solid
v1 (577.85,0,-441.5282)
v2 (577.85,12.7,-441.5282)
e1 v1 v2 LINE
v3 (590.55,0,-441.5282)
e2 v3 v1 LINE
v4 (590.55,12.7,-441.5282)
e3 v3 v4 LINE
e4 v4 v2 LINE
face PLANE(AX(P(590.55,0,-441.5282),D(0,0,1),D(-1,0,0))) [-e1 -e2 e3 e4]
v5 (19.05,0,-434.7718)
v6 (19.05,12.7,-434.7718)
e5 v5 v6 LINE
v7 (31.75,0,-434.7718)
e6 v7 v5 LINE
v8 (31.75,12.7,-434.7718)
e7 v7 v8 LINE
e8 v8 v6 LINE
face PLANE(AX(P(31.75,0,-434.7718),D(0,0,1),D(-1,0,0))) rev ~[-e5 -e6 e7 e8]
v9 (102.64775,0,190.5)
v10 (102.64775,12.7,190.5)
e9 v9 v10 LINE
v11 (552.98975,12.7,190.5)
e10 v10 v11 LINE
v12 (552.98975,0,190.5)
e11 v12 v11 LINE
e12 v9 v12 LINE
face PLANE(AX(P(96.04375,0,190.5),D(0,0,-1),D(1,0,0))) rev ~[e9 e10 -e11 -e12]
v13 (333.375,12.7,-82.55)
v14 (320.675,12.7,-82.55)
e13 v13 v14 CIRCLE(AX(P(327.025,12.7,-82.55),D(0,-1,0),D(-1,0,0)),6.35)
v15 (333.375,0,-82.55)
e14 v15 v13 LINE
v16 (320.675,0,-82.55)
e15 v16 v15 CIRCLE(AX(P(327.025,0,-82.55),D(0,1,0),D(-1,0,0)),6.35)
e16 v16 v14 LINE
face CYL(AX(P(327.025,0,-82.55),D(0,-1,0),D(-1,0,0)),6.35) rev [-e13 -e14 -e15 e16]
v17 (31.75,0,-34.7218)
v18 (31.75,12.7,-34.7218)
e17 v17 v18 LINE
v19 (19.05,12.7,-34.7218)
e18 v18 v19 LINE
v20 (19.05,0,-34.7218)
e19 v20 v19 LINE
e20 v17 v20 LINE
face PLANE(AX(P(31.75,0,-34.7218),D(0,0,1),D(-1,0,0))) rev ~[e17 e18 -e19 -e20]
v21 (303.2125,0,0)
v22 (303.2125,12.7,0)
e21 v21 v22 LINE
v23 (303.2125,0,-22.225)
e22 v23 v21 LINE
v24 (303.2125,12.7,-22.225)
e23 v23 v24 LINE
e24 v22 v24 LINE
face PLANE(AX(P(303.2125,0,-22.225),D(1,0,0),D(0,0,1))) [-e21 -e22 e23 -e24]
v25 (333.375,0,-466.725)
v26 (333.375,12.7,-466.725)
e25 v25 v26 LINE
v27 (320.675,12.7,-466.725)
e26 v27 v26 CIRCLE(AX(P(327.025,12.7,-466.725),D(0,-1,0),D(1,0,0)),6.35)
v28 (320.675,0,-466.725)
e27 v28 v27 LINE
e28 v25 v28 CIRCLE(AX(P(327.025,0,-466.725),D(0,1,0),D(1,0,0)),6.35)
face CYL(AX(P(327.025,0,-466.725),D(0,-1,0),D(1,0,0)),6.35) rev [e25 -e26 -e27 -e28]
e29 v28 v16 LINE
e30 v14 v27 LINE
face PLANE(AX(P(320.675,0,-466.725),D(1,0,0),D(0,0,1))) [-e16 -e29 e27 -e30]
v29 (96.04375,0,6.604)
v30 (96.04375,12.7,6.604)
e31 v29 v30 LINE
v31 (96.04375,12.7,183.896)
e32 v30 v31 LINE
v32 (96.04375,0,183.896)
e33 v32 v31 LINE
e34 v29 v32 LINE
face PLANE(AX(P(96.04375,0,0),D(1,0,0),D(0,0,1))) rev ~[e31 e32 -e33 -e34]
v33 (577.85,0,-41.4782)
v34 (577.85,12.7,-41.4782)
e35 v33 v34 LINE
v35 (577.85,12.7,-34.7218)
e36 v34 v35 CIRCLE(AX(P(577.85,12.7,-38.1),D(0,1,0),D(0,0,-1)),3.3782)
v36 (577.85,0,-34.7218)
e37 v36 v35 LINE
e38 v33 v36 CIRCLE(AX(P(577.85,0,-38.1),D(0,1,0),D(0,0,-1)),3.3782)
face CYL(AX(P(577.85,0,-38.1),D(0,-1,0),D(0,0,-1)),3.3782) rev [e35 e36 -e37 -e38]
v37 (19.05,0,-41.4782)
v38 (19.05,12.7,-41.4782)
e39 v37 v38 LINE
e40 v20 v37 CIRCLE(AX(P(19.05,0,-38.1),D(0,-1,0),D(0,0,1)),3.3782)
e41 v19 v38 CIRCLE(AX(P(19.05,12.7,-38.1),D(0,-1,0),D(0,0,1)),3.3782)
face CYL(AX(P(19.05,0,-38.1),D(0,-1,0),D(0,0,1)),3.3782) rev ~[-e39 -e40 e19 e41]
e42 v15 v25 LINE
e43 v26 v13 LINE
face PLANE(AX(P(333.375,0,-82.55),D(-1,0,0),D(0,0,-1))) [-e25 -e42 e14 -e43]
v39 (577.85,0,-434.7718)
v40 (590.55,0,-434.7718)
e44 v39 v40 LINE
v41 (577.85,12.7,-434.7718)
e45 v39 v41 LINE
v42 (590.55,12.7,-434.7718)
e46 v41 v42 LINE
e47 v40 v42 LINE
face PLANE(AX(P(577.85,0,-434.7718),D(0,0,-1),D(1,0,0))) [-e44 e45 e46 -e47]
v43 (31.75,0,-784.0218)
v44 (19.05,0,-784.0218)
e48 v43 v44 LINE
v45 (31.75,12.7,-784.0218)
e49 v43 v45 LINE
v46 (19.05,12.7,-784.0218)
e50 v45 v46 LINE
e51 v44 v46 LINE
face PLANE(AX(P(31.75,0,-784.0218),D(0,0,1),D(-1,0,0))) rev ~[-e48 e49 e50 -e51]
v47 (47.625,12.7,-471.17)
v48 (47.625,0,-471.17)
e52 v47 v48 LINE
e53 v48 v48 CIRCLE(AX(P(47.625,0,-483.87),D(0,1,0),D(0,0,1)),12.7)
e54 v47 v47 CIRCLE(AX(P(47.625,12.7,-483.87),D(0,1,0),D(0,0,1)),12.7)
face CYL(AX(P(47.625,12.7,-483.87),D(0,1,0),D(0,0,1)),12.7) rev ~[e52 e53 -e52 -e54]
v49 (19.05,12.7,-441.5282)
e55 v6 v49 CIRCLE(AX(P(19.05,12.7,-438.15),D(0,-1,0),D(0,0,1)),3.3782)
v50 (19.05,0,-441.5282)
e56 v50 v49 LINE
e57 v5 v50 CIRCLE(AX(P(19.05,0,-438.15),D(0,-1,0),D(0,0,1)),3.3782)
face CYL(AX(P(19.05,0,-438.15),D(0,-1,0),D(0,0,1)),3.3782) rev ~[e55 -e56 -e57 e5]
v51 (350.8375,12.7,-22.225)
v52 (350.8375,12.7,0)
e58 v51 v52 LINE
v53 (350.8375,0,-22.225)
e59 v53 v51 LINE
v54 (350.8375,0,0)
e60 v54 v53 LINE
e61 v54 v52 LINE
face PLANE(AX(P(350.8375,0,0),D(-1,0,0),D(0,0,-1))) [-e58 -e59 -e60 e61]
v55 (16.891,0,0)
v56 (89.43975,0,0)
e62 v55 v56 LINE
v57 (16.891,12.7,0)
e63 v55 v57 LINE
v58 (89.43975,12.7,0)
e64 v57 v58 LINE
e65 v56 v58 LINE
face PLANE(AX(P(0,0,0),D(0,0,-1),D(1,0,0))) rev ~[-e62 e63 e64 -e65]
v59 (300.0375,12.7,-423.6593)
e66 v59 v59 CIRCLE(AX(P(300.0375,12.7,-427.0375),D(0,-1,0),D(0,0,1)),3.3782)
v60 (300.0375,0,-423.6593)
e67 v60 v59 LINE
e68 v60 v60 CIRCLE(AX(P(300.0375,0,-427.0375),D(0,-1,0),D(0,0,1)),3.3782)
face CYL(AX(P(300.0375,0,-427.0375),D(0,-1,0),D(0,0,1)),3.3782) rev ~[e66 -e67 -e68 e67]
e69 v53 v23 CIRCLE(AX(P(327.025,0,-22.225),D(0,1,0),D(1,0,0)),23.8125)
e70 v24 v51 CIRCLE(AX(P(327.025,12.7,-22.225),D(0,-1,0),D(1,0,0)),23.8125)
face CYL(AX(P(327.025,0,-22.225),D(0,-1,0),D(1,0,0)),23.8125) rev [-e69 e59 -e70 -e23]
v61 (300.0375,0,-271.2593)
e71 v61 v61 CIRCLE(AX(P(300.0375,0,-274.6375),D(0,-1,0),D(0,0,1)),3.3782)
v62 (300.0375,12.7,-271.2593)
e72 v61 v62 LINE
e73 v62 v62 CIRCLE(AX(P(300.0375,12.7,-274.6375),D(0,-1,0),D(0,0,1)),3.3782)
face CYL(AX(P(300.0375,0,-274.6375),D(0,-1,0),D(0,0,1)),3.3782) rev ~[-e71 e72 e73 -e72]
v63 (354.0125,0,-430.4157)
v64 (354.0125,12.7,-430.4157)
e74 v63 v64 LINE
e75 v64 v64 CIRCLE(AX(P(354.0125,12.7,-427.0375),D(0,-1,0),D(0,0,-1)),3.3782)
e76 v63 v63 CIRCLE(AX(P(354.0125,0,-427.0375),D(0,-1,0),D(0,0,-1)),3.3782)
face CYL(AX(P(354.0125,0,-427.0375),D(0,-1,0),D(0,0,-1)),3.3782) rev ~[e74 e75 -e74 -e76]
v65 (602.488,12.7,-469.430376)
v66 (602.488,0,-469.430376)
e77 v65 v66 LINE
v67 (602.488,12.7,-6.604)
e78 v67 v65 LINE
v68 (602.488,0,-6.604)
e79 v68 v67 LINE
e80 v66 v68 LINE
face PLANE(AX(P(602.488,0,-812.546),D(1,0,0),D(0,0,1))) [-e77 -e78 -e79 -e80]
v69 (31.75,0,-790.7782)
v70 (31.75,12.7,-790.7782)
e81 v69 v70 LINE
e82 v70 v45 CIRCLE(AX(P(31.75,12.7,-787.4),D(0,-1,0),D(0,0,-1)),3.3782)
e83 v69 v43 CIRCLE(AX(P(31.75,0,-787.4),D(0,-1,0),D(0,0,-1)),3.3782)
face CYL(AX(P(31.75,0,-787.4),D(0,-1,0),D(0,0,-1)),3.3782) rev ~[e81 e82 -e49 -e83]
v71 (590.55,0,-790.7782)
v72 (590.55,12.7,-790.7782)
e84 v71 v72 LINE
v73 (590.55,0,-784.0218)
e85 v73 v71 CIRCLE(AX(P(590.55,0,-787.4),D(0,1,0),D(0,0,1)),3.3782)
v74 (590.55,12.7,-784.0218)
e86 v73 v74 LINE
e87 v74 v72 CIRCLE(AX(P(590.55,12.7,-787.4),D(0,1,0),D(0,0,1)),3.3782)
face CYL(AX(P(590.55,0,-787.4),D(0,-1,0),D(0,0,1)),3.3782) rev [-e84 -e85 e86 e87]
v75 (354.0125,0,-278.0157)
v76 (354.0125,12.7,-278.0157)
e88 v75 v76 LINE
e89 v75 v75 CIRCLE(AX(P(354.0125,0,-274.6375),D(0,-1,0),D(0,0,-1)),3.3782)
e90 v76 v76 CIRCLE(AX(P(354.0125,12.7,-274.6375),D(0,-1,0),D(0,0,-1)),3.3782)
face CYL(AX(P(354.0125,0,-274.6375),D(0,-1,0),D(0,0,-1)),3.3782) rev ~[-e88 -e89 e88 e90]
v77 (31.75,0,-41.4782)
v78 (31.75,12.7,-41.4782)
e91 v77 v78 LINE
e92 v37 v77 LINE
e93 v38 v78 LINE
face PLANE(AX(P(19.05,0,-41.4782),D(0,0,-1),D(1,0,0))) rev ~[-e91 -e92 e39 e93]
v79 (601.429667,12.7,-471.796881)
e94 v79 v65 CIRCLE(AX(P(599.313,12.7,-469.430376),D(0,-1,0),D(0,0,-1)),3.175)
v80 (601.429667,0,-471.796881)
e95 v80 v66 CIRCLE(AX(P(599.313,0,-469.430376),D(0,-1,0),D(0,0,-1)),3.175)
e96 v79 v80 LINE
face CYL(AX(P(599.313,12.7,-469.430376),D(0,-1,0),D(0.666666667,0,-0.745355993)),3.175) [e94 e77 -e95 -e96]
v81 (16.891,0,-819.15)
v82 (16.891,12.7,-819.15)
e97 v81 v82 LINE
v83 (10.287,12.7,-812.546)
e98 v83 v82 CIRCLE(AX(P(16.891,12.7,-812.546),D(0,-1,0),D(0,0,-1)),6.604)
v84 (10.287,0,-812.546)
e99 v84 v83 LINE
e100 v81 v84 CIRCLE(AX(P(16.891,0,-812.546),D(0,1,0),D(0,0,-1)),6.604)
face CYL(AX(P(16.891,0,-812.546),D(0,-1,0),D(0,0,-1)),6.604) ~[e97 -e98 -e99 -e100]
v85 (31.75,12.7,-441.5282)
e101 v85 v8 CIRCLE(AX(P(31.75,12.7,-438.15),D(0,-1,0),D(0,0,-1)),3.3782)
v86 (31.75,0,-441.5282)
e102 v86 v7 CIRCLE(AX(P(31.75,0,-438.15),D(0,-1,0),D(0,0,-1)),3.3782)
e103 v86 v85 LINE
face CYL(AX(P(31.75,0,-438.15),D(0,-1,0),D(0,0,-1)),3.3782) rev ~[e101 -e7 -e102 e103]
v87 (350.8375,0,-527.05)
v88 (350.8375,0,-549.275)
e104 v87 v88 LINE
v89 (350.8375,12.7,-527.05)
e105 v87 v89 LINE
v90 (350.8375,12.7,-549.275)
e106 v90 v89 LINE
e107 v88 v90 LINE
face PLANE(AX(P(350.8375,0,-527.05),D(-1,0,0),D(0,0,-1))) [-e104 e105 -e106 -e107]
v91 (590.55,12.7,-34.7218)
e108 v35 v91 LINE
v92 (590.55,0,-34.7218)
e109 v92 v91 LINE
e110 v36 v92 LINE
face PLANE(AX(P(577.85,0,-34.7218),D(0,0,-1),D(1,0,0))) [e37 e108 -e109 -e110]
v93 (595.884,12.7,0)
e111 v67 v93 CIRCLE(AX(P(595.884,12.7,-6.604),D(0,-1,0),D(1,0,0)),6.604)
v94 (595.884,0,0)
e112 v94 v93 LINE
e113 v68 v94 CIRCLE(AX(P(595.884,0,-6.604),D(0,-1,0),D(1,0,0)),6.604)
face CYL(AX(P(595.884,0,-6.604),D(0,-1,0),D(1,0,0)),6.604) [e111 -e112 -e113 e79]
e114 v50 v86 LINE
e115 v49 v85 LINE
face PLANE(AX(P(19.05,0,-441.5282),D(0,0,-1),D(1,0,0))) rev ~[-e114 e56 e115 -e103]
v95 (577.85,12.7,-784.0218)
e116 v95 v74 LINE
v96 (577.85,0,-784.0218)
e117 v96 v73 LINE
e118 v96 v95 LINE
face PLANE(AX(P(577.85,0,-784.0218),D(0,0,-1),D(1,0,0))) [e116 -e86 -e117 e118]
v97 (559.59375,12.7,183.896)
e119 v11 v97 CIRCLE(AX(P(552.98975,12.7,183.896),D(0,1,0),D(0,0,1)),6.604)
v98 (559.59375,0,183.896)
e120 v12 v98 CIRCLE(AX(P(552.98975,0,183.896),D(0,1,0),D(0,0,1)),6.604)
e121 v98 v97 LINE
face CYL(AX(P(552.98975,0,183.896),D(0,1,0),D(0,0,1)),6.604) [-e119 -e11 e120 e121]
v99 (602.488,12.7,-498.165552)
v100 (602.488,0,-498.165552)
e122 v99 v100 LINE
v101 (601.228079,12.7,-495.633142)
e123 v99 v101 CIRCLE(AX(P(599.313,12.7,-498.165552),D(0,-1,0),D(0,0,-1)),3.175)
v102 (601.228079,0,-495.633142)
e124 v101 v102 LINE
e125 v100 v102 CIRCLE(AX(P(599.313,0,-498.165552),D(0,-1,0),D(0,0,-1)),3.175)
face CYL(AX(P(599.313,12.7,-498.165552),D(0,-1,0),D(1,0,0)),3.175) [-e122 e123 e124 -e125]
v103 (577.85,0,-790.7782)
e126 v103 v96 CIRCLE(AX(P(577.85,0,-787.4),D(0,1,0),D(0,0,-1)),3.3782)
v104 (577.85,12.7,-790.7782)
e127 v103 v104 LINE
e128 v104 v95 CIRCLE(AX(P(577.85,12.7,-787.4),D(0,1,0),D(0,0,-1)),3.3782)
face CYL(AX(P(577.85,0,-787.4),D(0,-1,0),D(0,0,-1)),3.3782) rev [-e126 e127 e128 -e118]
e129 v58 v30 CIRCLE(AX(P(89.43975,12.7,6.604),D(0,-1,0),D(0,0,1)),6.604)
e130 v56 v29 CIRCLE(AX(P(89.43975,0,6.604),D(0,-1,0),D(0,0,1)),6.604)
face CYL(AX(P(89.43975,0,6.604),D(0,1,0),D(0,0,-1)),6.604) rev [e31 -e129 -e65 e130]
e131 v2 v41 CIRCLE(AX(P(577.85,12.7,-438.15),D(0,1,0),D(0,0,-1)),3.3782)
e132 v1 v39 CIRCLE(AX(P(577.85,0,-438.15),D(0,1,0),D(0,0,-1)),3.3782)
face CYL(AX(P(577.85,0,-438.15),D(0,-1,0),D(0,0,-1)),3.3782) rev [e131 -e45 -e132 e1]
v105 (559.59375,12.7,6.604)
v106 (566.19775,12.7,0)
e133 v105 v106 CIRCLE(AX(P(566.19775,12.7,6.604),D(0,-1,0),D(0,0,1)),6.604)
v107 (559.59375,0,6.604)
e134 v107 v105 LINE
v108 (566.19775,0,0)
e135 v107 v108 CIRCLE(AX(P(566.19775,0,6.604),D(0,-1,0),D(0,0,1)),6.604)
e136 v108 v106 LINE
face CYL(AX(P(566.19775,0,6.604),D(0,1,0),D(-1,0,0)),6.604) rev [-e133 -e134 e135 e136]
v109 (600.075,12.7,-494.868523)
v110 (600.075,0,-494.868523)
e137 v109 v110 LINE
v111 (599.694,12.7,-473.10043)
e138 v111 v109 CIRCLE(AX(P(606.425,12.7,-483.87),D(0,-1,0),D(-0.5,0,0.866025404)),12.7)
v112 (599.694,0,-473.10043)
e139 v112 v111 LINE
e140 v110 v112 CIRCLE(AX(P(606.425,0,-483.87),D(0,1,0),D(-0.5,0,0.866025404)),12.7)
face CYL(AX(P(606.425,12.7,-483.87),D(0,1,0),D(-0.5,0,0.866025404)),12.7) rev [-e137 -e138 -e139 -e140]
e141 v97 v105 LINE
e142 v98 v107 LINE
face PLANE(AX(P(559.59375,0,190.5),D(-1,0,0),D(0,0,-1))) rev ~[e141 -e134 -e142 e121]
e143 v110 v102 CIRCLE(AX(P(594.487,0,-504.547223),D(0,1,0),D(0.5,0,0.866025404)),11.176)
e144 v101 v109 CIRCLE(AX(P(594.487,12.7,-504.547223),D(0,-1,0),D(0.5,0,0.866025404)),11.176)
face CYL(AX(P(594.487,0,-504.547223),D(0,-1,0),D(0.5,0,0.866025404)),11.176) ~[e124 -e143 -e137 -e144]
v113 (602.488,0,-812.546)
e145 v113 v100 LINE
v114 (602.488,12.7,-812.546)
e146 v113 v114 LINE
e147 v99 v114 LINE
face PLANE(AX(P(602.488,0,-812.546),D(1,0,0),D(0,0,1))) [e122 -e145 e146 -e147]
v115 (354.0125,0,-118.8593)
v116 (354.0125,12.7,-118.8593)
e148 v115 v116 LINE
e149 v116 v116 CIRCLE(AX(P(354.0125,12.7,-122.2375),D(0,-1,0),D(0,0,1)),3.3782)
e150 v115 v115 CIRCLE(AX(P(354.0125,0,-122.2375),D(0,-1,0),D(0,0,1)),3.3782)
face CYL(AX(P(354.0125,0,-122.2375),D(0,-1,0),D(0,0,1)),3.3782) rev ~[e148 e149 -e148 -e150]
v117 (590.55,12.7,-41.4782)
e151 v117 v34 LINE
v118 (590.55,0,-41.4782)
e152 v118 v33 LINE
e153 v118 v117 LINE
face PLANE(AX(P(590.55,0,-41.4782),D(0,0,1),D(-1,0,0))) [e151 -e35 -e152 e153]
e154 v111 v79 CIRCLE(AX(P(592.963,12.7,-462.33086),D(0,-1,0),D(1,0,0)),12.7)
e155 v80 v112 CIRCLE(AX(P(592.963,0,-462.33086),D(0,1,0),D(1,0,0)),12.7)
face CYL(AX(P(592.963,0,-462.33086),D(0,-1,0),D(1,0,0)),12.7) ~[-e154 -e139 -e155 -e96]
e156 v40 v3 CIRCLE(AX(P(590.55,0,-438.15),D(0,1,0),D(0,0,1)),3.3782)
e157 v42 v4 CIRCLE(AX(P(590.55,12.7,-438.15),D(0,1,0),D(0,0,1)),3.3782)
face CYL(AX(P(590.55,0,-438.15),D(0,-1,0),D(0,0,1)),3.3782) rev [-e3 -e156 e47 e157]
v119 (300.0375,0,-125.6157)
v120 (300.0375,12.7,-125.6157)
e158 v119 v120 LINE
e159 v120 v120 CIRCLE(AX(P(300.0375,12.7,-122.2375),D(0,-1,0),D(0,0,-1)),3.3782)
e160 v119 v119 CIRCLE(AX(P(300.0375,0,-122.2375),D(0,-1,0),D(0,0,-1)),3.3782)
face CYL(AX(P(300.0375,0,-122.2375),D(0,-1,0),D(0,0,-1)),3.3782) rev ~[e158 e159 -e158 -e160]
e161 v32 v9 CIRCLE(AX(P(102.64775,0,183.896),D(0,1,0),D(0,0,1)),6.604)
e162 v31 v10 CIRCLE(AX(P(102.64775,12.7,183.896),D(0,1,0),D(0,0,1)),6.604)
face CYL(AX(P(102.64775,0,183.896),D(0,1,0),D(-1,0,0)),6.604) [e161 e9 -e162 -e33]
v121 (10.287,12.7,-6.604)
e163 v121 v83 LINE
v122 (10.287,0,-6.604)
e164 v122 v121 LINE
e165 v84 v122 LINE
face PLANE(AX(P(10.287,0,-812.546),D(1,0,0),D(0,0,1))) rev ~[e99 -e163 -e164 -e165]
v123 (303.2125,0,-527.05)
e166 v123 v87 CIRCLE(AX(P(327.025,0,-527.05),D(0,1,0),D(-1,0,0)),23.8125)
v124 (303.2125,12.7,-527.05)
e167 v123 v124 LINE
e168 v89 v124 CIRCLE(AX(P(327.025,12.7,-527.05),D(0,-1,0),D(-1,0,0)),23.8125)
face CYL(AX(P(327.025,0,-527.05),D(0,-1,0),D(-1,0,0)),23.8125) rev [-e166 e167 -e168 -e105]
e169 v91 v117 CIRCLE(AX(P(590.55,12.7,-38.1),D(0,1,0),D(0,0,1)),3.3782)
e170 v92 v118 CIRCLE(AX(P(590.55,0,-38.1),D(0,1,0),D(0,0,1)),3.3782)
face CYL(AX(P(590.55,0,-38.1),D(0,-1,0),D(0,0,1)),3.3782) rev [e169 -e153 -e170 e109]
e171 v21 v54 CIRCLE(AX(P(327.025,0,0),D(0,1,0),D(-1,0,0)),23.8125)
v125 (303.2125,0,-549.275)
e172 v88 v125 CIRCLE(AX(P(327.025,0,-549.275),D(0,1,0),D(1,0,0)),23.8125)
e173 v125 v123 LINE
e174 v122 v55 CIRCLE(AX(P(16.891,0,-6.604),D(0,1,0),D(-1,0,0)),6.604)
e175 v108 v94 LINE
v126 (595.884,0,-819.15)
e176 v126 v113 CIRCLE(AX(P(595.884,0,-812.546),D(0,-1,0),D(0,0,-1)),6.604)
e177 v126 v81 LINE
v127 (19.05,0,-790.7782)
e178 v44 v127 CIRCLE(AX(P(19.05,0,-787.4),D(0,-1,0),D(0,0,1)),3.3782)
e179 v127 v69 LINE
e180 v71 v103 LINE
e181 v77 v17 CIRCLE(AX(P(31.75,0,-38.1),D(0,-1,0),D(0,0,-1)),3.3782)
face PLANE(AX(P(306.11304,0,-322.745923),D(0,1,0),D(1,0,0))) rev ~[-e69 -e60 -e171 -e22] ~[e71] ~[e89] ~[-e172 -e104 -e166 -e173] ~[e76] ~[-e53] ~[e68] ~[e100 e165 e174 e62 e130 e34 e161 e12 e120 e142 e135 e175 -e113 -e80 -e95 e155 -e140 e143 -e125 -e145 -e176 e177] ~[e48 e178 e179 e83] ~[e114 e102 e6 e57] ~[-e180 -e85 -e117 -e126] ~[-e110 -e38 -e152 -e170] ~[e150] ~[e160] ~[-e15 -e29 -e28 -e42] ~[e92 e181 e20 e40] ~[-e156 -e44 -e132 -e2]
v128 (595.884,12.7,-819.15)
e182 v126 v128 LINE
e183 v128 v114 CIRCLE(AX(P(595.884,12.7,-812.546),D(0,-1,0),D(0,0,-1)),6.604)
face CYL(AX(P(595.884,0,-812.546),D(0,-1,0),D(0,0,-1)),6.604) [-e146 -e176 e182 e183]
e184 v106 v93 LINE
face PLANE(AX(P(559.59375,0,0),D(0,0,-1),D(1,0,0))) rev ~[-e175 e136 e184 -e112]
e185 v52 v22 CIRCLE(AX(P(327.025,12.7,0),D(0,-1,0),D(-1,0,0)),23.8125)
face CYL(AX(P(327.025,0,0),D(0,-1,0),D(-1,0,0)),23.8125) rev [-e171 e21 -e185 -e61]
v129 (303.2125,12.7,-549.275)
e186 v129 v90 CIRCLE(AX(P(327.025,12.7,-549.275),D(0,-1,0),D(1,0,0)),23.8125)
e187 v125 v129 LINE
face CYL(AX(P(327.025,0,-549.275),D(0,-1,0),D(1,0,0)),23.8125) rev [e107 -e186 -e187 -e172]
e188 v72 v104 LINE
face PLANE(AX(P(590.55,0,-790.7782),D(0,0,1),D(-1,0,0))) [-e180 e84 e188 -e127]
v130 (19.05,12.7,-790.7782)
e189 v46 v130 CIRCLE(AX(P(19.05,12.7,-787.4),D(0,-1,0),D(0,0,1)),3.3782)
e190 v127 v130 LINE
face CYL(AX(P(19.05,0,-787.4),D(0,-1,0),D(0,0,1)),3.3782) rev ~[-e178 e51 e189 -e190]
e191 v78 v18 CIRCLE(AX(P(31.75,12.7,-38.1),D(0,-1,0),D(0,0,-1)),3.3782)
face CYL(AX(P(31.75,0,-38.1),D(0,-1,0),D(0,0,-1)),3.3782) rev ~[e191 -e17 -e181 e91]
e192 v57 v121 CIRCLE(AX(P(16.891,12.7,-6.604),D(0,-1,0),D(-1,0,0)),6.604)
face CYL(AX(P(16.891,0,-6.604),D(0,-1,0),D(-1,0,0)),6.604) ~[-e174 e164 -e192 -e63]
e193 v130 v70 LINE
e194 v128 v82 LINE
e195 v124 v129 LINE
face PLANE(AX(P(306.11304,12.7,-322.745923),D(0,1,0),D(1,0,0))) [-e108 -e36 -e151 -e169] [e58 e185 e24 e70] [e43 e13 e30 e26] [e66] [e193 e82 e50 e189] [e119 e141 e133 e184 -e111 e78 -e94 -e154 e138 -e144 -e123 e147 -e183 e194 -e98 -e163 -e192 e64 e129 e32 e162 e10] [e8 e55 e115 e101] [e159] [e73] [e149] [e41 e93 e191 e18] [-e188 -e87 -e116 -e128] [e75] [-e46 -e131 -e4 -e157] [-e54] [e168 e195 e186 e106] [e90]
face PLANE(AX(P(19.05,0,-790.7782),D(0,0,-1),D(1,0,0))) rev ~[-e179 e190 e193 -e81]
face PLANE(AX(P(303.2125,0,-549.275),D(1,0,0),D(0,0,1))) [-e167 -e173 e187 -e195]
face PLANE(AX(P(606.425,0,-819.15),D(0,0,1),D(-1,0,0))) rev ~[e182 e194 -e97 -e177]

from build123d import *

# Parameters (mm, degrees)
BOSS_EXTRUDE1_DEPTH = 12.7
FILLET1_R           = 6.604
FILLET2_R           = 6.604
SKETCH2_R           = 12.7
CUT_EXTRUDE1_DEPTH  = 1020.273904858
CUT_EXTRUDE3_DEPTH  = 1020.273904858
CUT_EXTRUDE4_DEPTH  = 1020.273904858
SKETCH6_R           = 3.3782
CUT_EXTRUDE5_DEPTH  = 1020.273904858
CUT_EXTRUDE6_DEPTH  = 1020.273904858
CUT_EXTRUDE7_DEPTH  = 1019.820731075
FILLET3_R           = 3.175


with BuildPart() as part:
    # Sketch1 → Boss-Extrude1 (new body)
    with BuildSketch(Plane(origin=(0, 0, 0), x_dir=(1, 0, 0), z_dir=(0, 1, 0))):
        Polygon((0, 0), (96.04375, 0), (96.04375, -190.5), (559.59375, -190.5), (559.59375, 0), (606.425, 0), (606.425, 819.15), (0, 819.15), align=None)
        with BuildLine():
            Line((19.05, 41.4782), (31.75, 41.4782))
            ThreePointArc((31.75, 41.4782), (35.1282, 38.1), (31.75, 34.7218))
            Line((31.75, 34.7218), (19.05, 34.7218))
            ThreePointArc((19.05, 34.7218), (15.6718, 38.1), (19.05, 41.4782))
        make_face(mode=Mode.SUBTRACT)
        with BuildLine():
            Line((19.05, 441.5282), (31.75, 441.5282))
            ThreePointArc((31.75, 441.5282), (35.1282, 438.15), (31.75, 434.7718))
            Line((31.75, 434.7718), (19.05, 434.7718))
            ThreePointArc((19.05, 434.7718), (15.6718, 438.15), (19.05, 441.5282))
        make_face(mode=Mode.SUBTRACT)
        with BuildLine():
            Line((31.75, 784.0218), (19.05, 784.0218))
            ThreePointArc((19.05, 784.0218), (15.6718, 787.4), (19.05, 790.7782))
            Line((19.05, 790.7782), (31.75, 790.7782))
            ThreePointArc((31.75, 790.7782), (35.1282, 787.4), (31.75, 784.0218))
        make_face(mode=Mode.SUBTRACT)
        with BuildLine():
            Line((577.85, 784.0218), (590.55, 784.0218))
            ThreePointArc((590.55, 784.0218), (593.9282, 787.4), (590.55, 790.7782))
            Line((590.55, 790.7782), (577.85, 790.7782))
            ThreePointArc((577.85, 790.7782), (574.4718, 787.4), (577.85, 784.0218))
        make_face(mode=Mode.SUBTRACT)
        with BuildLine():
            Line((590.55, 441.5282), (577.85, 441.5282))
            ThreePointArc((577.85, 441.5282), (574.4718, 438.15), (577.85, 434.7718))
            Line((577.85, 434.7718), (590.55, 434.7718))
            ThreePointArc((590.55, 434.7718), (593.9282, 438.15), (590.55, 441.5282))
        make_face(mode=Mode.SUBTRACT)
        with BuildLine():
            Line((590.55, 41.4782), (577.85, 41.4782))
            ThreePointArc((577.85, 41.4782), (574.4718, 38.1), (577.85, 34.7218))
            Line((577.85, 34.7218), (590.55, 34.7218))
            ThreePointArc((590.55, 34.7218), (593.9282, 38.1), (590.55, 41.4782))
        make_face(mode=Mode.SUBTRACT)
    extrude(amount=BOSS_EXTRUDE1_DEPTH)

    # Fillet1
    fillet1_edges = [part.edges().sort_by_distance(p)[0] for p in [
        (559.59375, 6.35, 0),
        (96.04375, 6.35, 0),
    ]]
    fillet(fillet1_edges, radius=FILLET1_R)

    # Fillet2
    fillet2_edges = [part.edges().sort_by_distance(p)[0] for p in [
        (0, 6.35, -819.15),
        (606.425, 6.35, -819.15),
        (606.425, 6.35, 0),
        (559.59375, 6.35, 190.5),
        (96.04375, 6.35, 190.5),
        (0, 6.35, 0),
    ]]
    fillet(fillet2_edges, radius=FILLET2_R)

    # Sketch2 → Cut-Extrude1 (cut, through all)
    with BuildSketch(Plane(origin=(0, 12.7, 0), x_dir=(1, 0, 0), z_dir=(0, 1, 0))):
        with Locations(Location((47.625, 483.87, 0), (0, 0, 270))):
            Circle(SKETCH2_R)
        with BuildLine():
            Line((606.425, 505.867045256), (606.425, 461.872954744))
            ThreePointArc((606.425, 461.872954744), (604.723522628, 468.222954744), (600.075, 472.871477372))
            ThreePointArc((600.075, 472.871477372), (593.725, 483.87), (600.075, 494.868522628))
            ThreePointArc((600.075, 494.868522628), (604.723522628, 499.517045256), (606.425, 505.867045256))
        make_face()
    extrude(amount=-CUT_EXTRUDE1_DEPTH, mode=Mode.SUBTRACT)

    # Sketch4 → Cut-Extrude3 (cut, through all)
    with BuildSketch(Plane.XZ):
        with BuildLine():
            Line((350.8375, -527.05), (350.8375, -549.275))
            ThreePointArc((350.8375, -549.275), (327.025, -573.0875), (303.2125, -549.275))
            Line((303.2125, -549.275), (303.2125, -527.05))
            ThreePointArc((303.2125, -527.05), (327.025, -503.2375), (350.8375, -527.05))
        make_face()
        with BuildLine():
            Line((350.8375, 0), (350.8375, -22.225))
            ThreePointArc((350.8375, -22.225), (327.025, -46.0375), (303.2125, -22.225))
            Line((303.2125, -22.225), (303.2125, 0))
            ThreePointArc((303.2125, 0), (327.025, 23.8125), (350.8375, 0))
        make_face()
    extrude(amount=-CUT_EXTRUDE3_DEPTH, mode=Mode.SUBTRACT)

    # Sketch5 → Cut-Extrude4 (cut, through all)
    with BuildSketch(Plane.XZ):
        with BuildLine():
            Line((320.675, -466.725), (320.675, -82.55))
            ThreePointArc((320.675, -82.55), (327.025, -76.2), (333.375, -82.55))
            Line((333.375, -82.55), (333.375, -466.725))
            ThreePointArc((333.375, -466.725), (327.025, -473.075), (320.675, -466.725))
        make_face()
    extrude(amount=-CUT_EXTRUDE4_DEPTH, mode=Mode.SUBTRACT)

    # Sketch6 → Cut-Extrude5 (cut, through all)
    with BuildSketch(Plane.XZ):
        with Locations(Location((354.0125, -274.6375, 0), (0, 0, 270))):
            Circle(SKETCH6_R)
        with Locations(Location((354.0125, -427.0375, 0), (0, 0, 270))):
            Circle(SKETCH6_R)
        with Locations(Location((354.0125, -122.2375, 0), (0, 0, 90))):
            Circle(SKETCH6_R)
        with Locations(Location((300.0375, -427.0375, 0), (0, 0, 90))):
            Circle(SKETCH6_R)
        with Locations(Location((300.0375, -274.6375, 0), (0, 0, 90))):
            Circle(SKETCH6_R)
        with Locations(Location((300.0375, -122.2375, 0), (0, 0, 270))):
            Circle(SKETCH6_R)
    extrude(amount=-CUT_EXTRUDE5_DEPTH, mode=Mode.SUBTRACT)

    # Sketch7 → Cut-Extrude6 (cut, through all)
    with BuildSketch(Plane.XZ):
        with BuildLine():
            ThreePointArc((605.663, -812.546), (603.728733183, -817.215733183), (599.059, -819.15))
            Line((599.059, -819.15), (599.821, -819.15))
            ThreePointArc((599.821, -819.15), (604.490733183, -817.215733183), (606.425, -812.546))
            Line((606.425, -812.546), (606.425, -505.867045256))
            ThreePointArc((606.425, -505.867045256), (604.723522628, -499.517045256), (600.075, -494.868522628))
            ThreePointArc((600.075, -494.868522628), (604.165699913, -498.959222541), (605.663, -504.547222541))
            Line((605.663, -504.547222541), (605.663, -812.546))
        make_face()
        with BuildLine():
            ThreePointArc((0.762, -812.546), (2.696266817, -817.215733183), (7.366, -819.15))
            Line((7.366, -819.15), (6.604, -819.15))
            ThreePointArc((6.604, -819.15), (1.934266817, -817.215733183), (0, -812.546))
            Line((0, -812.546), (0, -6.604))
            ThreePointArc((0, -6.604), (1.934266817, -1.934266817), (6.604, 0))
            Line((6.604, 0), (7.366, 0))
            ThreePointArc((7.366, 0), (2.696266817, -1.934266817), (0.762, -6.604))
            Line((0.762, -6.604), (0.762, -812.546))
        make_face()
        with BuildLine():
            ThreePointArc((605.663, -462.330859906), (604.07096336, -468.487413325), (599.694, -473.100429953))
            ThreePointArc((599.694, -473.100429953), (599.883498256, -472.98428666), (600.075, -472.871477372))
            ThreePointArc((600.075, -472.871477372), (604.723522628, -468.222954744), (606.425, -461.872954744))
            Line((606.425, -461.872954744), (606.425, -6.604))
            ThreePointArc((606.425, -6.604), (604.490733183, -1.934266817), (599.821, 0))
            Line((599.821, 0), (599.059, 0))
            ThreePointArc((599.059, 0), (603.728733183, -1.934266817), (605.663, -6.604))
            Line((605.663, -6.604), (605.663, -462.330859906))
        make_face()
    extrude(amount=-CUT_EXTRUDE6_DEPTH, mode=Mode.SUBTRACT)

    # Sketch8 → Cut-Extrude7 (cut, through all)
    with BuildSketch(Plane.XZ):
        with BuildLine():
            ThreePointArc((595.884, -819.15), (600.553733183, -817.215733183), (602.488, -812.546))
            Line((602.488, -812.546), (602.488, -6.604))
            ThreePointArc((602.488, -6.604), (600.553733183, -1.934266817), (595.884, 0))
            Line((595.884, 0), (599.059, 0))
            ThreePointArc((599.059, 0), (603.728733183, -1.934266817), (605.663, -6.604))
            Line((605.663, -6.604), (605.663, -812.546))
            ThreePointArc((605.663, -812.546), (603.728733183, -817.215733183), (599.059, -819.15))
            Line((599.059, -819.15), (595.884, -819.15))
        make_face()
        with BuildLine():
            Line((0.762, -6.604), (0.762, -812.546))
            ThreePointArc((0.762, -812.546), (2.696266817, -817.215733183), (7.366, -819.15))
            Line((7.366, -819.15), (16.891, -819.15))
            ThreePointArc((16.891, -819.15), (12.221266817, -817.215733183), (10.287, -812.546))
            Line((10.287, -812.546), (10.287, -6.604))
            ThreePointArc((10.287, -6.604), (12.221266817, -1.934266817), (16.891, 0))
            Line((16.891, 0), (7.366, 0))
            ThreePointArc((7.366, 0), (2.696266817, -1.934266817), (0.762, -6.604))
        make_face()
    extrude(amount=-CUT_EXTRUDE7_DEPTH, mode=Mode.SUBTRACT)

    # Fillet3
    fillet3_edges = [part.edges().sort_by_distance(p)[0] for p in [
        (602.488, 6.35, -470.731120318),
        (602.488, 6.35, -496.744211904),
    ]]
    fillet(fillet3_edges, radius=FILLET3_R)


solid = part.part
